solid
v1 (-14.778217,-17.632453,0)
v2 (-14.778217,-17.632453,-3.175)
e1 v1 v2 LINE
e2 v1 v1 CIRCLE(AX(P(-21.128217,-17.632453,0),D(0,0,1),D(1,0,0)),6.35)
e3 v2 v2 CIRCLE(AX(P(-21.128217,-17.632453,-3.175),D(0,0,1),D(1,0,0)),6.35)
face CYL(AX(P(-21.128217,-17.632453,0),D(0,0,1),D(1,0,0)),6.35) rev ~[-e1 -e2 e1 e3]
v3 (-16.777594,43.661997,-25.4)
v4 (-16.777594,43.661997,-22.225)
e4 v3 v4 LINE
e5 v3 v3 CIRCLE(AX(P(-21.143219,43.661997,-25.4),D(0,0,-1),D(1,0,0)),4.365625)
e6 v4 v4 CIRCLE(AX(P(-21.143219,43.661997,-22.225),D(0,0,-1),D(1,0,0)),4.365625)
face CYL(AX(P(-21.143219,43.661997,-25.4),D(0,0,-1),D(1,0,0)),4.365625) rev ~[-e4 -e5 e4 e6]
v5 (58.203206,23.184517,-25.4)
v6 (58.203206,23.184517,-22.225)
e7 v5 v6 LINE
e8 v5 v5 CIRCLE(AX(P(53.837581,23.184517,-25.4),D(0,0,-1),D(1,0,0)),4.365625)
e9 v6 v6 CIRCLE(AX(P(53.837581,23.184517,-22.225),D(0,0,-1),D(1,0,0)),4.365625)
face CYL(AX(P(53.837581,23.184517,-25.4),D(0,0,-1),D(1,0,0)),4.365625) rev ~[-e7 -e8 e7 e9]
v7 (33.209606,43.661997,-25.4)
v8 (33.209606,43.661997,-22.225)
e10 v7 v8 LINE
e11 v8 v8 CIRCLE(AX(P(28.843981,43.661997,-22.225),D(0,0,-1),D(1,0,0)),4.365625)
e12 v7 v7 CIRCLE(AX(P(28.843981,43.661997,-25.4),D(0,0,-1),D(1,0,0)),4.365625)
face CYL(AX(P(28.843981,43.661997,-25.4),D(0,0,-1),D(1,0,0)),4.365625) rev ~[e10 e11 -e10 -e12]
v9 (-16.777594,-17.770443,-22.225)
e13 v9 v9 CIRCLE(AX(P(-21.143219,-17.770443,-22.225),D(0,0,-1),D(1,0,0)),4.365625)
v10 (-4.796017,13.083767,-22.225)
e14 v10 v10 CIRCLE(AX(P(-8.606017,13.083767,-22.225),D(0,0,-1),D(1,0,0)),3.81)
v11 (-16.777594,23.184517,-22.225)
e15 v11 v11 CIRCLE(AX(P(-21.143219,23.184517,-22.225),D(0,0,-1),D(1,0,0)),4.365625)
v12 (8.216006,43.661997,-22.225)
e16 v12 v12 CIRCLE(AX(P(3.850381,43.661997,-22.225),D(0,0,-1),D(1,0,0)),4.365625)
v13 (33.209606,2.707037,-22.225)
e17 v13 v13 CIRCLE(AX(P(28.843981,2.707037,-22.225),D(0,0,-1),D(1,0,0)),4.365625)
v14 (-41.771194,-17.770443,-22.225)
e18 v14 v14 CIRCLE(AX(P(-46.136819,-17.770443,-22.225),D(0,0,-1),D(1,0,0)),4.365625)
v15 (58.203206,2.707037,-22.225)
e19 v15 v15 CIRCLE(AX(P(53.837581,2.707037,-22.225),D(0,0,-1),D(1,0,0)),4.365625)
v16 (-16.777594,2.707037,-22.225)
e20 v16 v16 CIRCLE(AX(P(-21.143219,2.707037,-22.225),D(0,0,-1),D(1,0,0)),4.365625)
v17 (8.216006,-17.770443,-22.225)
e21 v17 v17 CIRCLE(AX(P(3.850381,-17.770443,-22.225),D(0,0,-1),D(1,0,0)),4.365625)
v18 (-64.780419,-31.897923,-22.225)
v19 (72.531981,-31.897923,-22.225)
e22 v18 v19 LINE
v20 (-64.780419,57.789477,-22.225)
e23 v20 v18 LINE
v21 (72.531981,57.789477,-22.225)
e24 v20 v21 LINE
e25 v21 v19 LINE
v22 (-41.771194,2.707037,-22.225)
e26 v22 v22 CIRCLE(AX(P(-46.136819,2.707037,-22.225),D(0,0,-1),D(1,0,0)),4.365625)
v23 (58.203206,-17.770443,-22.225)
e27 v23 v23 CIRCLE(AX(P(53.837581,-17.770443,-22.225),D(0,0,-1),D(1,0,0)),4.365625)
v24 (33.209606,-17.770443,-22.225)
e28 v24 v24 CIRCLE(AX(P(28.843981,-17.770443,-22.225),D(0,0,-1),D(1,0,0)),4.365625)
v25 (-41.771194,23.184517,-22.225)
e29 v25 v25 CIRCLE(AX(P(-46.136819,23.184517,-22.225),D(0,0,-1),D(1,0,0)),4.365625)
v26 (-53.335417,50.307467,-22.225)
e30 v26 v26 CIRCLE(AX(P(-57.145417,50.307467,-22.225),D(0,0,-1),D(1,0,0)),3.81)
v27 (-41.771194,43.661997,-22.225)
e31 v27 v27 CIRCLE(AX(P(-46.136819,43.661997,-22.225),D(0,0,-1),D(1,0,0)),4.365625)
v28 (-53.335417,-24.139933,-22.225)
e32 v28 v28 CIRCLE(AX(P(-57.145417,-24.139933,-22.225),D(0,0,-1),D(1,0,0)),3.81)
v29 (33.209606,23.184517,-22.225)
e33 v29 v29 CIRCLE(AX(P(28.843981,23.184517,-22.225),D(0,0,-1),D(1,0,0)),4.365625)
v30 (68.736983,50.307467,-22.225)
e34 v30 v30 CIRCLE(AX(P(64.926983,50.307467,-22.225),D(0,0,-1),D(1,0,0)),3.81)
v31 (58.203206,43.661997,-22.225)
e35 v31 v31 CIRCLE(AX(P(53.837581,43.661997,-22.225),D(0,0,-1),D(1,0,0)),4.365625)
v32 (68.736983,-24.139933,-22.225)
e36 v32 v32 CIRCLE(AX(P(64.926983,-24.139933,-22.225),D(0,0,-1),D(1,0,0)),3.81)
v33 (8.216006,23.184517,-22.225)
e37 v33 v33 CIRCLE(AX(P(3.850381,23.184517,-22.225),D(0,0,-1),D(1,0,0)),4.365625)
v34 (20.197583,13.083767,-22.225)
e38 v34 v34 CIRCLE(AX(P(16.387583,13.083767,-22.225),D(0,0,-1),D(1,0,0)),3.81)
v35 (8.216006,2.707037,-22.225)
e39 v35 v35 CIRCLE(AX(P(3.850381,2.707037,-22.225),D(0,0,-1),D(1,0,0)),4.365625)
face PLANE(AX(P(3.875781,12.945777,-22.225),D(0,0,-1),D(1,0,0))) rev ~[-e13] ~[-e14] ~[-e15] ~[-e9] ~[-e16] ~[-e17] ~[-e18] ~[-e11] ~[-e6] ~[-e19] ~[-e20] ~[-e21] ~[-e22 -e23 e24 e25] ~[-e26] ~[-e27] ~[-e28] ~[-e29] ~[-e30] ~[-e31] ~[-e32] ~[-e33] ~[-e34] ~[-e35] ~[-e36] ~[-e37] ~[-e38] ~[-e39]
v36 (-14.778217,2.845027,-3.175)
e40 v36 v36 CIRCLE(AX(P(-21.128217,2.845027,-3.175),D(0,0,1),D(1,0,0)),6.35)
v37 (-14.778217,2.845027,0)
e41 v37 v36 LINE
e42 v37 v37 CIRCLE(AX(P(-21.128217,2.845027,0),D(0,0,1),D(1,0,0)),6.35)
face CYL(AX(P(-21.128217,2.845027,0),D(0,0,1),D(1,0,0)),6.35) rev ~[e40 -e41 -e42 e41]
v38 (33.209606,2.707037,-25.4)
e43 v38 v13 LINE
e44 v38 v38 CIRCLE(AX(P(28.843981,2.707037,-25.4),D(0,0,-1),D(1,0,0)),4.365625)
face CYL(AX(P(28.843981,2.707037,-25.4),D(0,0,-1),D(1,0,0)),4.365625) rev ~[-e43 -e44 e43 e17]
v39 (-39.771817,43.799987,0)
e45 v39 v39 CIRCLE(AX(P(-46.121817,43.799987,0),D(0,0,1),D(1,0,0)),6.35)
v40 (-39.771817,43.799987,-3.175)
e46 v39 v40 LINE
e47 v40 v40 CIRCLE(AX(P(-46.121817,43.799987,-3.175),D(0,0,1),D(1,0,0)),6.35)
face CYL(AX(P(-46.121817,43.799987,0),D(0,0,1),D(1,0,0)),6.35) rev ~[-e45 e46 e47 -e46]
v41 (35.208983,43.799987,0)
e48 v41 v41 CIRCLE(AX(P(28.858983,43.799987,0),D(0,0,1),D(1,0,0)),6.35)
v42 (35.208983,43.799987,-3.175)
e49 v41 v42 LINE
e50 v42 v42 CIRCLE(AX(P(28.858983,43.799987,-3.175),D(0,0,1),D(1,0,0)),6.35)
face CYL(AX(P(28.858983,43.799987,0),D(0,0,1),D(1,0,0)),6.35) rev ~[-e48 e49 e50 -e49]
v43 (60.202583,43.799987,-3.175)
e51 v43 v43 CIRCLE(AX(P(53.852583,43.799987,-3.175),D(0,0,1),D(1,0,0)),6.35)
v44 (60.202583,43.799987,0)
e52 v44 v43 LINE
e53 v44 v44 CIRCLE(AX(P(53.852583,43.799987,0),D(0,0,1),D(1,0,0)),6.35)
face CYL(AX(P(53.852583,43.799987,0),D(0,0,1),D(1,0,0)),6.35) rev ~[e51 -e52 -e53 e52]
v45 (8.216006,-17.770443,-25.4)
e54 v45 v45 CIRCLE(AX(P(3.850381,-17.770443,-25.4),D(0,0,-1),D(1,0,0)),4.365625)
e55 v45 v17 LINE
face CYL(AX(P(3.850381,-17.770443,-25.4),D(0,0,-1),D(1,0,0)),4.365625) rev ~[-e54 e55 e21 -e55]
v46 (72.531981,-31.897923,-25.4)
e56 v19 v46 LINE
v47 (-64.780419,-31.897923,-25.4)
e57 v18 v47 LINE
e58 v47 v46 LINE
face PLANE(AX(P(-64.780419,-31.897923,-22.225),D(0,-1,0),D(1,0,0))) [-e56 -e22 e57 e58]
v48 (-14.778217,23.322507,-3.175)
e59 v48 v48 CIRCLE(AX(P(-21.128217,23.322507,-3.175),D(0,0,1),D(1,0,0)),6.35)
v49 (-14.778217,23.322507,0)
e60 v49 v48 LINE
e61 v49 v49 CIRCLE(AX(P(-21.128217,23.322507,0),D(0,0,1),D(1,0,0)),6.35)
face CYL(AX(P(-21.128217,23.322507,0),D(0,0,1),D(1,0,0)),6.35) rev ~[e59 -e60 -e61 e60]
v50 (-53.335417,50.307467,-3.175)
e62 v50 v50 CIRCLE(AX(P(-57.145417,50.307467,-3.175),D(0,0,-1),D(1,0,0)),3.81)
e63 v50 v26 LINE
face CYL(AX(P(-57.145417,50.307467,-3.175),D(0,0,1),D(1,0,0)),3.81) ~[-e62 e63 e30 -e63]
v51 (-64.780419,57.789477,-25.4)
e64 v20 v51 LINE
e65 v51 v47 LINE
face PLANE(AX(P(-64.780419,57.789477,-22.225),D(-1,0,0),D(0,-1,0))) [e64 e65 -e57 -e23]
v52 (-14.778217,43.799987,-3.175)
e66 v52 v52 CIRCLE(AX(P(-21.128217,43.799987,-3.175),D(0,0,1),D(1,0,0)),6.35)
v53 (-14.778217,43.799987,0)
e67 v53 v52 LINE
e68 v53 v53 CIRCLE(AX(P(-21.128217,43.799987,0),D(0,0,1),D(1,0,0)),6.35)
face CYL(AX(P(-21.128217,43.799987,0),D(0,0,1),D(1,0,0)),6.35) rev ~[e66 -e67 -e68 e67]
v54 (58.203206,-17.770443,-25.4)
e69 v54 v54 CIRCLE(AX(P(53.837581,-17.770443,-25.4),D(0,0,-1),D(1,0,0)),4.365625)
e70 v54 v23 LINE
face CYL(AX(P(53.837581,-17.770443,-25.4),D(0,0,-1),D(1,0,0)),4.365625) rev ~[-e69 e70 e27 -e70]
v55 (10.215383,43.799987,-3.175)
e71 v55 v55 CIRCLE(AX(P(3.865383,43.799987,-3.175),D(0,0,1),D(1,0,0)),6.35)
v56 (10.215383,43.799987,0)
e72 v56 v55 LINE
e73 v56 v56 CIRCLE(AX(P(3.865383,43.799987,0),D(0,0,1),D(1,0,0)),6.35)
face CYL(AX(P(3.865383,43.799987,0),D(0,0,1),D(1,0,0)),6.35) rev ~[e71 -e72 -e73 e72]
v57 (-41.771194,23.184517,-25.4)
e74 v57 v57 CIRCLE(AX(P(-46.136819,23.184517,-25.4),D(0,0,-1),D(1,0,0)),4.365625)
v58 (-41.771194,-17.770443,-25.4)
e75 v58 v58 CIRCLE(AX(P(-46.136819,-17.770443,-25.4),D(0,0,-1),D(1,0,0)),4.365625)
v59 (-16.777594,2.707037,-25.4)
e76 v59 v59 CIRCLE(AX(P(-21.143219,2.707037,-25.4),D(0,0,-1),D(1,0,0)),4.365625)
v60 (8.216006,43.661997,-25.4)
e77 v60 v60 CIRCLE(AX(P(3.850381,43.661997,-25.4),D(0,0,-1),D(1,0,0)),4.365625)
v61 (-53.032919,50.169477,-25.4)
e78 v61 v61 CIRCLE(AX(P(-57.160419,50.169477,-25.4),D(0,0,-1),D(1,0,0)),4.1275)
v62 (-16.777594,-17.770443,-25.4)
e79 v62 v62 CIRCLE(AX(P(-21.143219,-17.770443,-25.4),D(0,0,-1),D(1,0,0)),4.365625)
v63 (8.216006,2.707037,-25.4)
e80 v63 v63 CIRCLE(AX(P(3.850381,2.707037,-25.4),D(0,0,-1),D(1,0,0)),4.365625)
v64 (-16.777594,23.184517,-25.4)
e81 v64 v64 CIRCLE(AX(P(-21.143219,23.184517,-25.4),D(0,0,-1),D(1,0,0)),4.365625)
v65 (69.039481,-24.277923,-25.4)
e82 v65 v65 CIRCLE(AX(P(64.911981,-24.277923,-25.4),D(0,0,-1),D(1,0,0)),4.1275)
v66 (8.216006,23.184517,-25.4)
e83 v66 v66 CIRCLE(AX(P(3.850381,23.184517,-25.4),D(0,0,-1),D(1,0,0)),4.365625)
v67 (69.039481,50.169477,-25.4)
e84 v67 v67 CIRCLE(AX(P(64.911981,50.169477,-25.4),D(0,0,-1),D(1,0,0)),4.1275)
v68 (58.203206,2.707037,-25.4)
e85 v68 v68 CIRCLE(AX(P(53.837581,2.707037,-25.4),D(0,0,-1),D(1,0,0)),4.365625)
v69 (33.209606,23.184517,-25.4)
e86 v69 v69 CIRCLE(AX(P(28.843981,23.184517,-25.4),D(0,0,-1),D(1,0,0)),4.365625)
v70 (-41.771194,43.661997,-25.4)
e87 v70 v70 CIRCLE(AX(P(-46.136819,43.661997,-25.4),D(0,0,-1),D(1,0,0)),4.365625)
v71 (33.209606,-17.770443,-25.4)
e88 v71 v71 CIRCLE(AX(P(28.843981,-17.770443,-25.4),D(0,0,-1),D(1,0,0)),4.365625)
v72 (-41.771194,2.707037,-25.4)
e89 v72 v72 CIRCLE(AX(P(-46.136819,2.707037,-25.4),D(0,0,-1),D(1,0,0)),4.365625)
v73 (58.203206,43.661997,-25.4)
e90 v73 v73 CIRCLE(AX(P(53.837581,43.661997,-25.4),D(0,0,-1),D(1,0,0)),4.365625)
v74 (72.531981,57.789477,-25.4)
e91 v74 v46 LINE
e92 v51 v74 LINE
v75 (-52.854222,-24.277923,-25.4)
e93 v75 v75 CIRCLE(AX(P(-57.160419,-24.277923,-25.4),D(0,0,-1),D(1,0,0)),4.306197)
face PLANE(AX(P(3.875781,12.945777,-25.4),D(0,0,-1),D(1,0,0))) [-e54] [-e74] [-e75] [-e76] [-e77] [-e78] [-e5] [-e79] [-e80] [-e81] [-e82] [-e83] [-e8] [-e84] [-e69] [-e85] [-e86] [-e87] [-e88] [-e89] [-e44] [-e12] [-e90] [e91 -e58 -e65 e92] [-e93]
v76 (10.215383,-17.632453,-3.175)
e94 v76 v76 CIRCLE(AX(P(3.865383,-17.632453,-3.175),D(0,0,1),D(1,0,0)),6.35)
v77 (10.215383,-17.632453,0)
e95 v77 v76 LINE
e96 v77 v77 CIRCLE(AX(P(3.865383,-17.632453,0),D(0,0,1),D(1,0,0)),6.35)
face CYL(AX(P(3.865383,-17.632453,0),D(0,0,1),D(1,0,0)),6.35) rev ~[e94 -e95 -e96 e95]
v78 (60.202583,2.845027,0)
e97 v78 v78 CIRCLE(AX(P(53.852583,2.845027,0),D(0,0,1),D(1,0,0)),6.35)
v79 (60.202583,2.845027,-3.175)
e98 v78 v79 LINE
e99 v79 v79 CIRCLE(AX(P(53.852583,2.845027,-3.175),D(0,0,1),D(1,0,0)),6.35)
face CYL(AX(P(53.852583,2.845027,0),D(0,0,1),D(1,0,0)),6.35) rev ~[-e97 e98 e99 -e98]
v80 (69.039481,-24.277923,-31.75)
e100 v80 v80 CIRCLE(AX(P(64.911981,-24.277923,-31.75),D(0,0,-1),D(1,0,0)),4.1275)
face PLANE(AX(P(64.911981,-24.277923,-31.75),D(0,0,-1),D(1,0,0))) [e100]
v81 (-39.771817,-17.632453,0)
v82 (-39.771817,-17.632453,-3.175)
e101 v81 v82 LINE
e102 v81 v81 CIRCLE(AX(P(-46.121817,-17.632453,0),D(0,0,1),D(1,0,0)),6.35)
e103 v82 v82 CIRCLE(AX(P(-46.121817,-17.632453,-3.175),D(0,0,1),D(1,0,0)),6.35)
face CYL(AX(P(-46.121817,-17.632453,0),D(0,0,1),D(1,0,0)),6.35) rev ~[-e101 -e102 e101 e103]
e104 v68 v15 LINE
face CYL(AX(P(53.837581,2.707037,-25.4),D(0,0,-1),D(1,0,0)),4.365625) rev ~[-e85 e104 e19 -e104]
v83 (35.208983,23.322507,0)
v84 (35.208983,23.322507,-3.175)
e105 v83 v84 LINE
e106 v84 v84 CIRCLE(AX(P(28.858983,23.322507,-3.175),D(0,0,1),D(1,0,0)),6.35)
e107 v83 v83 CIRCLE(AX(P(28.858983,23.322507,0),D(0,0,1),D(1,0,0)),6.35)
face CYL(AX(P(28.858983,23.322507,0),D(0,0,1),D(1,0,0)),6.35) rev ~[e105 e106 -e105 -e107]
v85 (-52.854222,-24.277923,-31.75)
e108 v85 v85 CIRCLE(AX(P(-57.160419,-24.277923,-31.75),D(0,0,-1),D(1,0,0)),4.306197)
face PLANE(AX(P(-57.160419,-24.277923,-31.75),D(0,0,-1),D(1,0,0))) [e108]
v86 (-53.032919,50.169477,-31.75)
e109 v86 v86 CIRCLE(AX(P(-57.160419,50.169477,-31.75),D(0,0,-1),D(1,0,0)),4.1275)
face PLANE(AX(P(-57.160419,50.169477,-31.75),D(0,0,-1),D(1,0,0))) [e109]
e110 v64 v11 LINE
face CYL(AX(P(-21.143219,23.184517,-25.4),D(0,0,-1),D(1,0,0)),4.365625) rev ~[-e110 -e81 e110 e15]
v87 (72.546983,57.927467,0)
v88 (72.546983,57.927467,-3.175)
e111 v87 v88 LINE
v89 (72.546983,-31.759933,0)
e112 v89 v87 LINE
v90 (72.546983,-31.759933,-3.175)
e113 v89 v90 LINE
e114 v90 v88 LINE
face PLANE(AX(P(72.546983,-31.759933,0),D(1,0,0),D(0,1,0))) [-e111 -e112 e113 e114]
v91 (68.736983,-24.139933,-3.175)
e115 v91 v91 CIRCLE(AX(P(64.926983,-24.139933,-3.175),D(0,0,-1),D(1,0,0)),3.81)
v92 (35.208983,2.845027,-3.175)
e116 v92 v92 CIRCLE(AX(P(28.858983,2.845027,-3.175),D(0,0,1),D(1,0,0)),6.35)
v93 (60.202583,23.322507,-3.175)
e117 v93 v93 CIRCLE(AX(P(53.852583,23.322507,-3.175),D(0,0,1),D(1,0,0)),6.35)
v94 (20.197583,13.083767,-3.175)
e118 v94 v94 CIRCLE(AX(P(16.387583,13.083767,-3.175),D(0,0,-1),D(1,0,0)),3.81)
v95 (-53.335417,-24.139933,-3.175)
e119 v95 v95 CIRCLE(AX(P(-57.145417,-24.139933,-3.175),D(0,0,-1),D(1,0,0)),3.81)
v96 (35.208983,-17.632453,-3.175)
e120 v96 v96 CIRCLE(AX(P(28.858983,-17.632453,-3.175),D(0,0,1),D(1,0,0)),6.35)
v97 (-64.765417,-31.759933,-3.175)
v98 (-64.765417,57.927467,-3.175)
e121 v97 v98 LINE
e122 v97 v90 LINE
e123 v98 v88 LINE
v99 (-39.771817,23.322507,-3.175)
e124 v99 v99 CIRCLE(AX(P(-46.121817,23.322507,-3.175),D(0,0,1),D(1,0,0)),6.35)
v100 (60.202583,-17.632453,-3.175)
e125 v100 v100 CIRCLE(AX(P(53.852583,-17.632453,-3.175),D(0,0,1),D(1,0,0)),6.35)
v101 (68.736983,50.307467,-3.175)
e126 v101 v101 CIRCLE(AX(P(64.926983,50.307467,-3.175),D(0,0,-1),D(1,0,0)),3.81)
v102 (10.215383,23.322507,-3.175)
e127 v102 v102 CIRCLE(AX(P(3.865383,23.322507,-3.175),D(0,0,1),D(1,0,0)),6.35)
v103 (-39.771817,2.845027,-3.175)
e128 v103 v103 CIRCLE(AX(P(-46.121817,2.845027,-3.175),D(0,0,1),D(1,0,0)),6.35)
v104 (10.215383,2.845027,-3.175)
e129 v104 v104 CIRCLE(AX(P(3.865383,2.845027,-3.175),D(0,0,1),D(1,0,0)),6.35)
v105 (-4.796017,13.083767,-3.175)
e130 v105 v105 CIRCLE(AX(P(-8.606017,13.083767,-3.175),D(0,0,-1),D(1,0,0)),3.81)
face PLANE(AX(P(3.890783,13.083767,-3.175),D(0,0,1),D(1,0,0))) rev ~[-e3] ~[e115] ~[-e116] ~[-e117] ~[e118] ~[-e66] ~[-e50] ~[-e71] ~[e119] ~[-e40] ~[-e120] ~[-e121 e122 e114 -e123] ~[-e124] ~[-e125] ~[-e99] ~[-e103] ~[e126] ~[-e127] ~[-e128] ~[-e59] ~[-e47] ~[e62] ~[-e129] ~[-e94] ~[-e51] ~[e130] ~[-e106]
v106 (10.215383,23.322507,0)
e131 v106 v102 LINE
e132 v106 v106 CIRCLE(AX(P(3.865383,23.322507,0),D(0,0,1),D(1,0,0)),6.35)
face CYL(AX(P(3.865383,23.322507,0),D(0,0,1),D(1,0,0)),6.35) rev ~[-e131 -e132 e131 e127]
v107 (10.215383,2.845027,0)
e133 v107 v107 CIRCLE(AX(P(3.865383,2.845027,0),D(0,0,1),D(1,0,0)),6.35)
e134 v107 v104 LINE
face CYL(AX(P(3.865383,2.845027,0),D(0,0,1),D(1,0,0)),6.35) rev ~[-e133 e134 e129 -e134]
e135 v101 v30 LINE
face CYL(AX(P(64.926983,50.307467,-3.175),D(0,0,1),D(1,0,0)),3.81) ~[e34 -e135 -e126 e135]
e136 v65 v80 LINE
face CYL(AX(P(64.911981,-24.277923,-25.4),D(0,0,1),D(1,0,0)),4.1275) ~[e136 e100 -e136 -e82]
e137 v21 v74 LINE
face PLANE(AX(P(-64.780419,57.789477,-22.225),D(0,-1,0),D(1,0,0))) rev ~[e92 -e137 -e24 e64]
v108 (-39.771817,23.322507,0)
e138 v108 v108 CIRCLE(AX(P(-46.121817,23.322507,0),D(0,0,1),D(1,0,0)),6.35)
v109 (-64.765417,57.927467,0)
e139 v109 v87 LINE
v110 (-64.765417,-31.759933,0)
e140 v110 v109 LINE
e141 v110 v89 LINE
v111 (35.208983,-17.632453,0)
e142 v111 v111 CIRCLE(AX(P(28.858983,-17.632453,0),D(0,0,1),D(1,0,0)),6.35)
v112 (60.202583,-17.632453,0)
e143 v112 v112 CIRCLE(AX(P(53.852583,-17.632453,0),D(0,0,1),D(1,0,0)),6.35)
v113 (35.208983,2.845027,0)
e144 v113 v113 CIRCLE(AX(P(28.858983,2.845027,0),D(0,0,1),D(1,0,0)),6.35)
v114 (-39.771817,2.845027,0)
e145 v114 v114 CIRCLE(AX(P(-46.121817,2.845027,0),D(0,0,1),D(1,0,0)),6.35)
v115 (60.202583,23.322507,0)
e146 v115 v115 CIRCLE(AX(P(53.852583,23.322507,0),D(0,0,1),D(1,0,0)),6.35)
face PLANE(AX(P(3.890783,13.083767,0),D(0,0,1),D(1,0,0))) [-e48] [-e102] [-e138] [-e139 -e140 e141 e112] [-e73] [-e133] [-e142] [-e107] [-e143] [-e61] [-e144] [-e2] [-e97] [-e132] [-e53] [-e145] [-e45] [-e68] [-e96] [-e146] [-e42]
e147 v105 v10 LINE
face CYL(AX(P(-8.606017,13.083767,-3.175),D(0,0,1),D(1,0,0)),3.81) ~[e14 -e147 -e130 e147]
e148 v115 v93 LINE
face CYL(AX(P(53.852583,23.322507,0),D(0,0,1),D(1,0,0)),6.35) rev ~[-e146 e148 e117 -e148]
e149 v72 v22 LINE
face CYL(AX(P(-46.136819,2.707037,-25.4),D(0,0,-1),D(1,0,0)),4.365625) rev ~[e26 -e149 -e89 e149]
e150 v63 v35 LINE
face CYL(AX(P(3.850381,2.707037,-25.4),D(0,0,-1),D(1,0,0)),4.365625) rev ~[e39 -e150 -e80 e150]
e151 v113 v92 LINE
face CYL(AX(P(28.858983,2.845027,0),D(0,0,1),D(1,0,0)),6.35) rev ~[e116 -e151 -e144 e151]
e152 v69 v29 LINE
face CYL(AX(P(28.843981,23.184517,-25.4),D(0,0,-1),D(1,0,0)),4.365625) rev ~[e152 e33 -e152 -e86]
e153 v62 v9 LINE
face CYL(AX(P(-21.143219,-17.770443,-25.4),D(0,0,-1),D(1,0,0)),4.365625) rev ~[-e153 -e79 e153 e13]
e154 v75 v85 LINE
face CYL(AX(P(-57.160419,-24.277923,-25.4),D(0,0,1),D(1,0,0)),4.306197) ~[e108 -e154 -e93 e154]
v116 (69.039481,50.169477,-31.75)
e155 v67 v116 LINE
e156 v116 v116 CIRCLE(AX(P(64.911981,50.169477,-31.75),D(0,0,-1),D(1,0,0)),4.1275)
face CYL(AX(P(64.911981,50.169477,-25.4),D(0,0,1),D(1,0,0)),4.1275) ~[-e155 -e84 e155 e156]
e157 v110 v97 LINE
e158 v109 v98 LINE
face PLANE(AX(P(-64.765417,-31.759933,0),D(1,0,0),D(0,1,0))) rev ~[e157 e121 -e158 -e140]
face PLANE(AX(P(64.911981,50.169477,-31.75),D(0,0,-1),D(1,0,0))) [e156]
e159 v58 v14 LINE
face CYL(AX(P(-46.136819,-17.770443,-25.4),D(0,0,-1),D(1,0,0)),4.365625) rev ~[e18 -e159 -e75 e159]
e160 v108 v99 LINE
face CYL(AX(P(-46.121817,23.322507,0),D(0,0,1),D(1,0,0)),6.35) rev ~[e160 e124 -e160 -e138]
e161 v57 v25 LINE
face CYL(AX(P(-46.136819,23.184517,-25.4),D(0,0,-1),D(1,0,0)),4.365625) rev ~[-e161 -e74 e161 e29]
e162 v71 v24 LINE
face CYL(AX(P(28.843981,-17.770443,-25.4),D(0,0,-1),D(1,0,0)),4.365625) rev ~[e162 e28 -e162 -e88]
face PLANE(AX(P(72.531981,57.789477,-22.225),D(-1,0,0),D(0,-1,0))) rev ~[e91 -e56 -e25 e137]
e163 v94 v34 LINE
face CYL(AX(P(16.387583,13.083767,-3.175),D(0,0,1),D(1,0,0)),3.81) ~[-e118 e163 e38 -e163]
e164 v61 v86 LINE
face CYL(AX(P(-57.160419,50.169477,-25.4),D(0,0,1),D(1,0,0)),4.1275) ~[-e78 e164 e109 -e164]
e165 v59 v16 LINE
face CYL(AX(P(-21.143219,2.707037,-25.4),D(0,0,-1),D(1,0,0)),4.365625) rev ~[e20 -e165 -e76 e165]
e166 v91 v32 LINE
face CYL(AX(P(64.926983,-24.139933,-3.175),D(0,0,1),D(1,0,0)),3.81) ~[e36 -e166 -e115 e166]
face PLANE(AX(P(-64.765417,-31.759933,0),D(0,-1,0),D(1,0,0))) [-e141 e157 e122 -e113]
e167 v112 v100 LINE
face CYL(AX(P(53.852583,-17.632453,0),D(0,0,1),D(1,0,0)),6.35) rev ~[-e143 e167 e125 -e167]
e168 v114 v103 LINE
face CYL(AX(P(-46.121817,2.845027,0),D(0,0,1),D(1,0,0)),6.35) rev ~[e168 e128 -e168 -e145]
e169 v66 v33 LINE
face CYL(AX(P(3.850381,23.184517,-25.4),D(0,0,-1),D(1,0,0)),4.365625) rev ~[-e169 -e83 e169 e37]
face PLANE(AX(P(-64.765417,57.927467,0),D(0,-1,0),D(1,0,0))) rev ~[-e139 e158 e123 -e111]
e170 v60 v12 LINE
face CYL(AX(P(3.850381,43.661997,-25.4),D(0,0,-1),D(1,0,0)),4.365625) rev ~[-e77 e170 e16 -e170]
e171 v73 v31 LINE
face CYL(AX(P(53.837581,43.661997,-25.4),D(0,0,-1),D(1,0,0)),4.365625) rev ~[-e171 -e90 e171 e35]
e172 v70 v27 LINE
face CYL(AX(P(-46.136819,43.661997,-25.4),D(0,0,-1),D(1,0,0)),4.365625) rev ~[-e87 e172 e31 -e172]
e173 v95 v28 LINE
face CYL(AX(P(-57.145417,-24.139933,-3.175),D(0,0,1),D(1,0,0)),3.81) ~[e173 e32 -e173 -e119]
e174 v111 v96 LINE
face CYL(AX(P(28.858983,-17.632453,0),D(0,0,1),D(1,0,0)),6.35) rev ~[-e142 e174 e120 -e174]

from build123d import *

# Parameters (mm, degrees)
F0_W      = 137.3124
F0_H      = 89.6874
F1_DEPTH  = 3.175
F3_R      = 3.81
F4_DEPTH  = 19.05
F5_W      = 137.3124
F5_H      = 89.6874
F6_DEPTH  = 3.175
F2_R      = 6.35
F8_DEPTH  = 6.35
F7_R      = 4.365625
F9_DEPTH  = 25.4
F10_R     = 4.306197
F10_R_2   = 4.1275
F11_DEPTH = 6.35


with BuildPart() as f1:
    # F0 (on Top) → F1 (new body)
    with BuildSketch(Plane.XY):
        with Locations((3.890783, 13.083767)):
            Rectangle(F0_W, F0_H)
    extrude(amount=-F1_DEPTH)

    # F3 (on face) → F4 (join)
    with BuildSketch(Plane(origin=(0, 0, -3.175), x_dir=(1, 0, 0), z_dir=(0, 0, -1))):
        with Locations((-57.145417, 24.139933)):
            Circle(F3_R)
        with Locations((64.926983, 24.139933)):
            Circle(F3_R)
        with Locations((-57.145417, -50.307467)):
            Circle(F3_R)
        with Locations((64.926983, -50.307467)):
            Circle(F3_R)
        with Locations((-8.606017, -13.083767)):
            Circle(F3_R)
        with Locations((16.387583, -13.083767)):
            Circle(F3_R)
    extrude(amount=F4_DEPTH)

    # F5 (on face) → F6 (join)
    with BuildSketch(Plane(origin=(0, 0, -22.225), x_dir=(1, 0, 0), z_dir=(0, 0, -1))):
        with Locations((3.875781, -12.945777)):
            Rectangle(F5_W, F5_H)
    extrude(amount=F6_DEPTH)

    # F2 (on face) → F8 (cut)
    with BuildSketch(Plane.XY):
        with Locations((-46.121817, 43.799987)):
            Circle(F2_R)
        with Locations((-21.128217, 43.799987)):
            Circle(F2_R)
        with Locations((3.865383, 43.799987)):
            Circle(F2_R)
        with Locations((28.858983, 43.799987)):
            Circle(F2_R)
        with Locations((53.852583, 43.799987)):
            Circle(F2_R)
        with Locations((-46.121817, -17.632453)):
            Circle(F2_R)
        with Locations((-21.128217, -17.632453)):
            Circle(F2_R)
        with Locations((3.865383, -17.632453)):
            Circle(F2_R)
        with Locations((28.858983, -17.632453)):
            Circle(F2_R)
        with Locations((53.852583, -17.632453)):
            Circle(F2_R)
        with Locations((-46.121817, 23.322507)):
            Circle(F2_R)
        with Locations((-21.128217, 23.322507)):
            Circle(F2_R)
        with Locations((3.865383, 23.322507)):
            Circle(F2_R)
        with Locations((28.858983, 23.322507)):
            Circle(F2_R)
        with Locations((53.852583, 23.322507)):
            Circle(F2_R)
        with Locations((-46.121817, 2.845027)):
            Circle(F2_R)
        with Locations((-21.128217, 2.845027)):
            Circle(F2_R)
        with Locations((3.865383, 2.845027)):
            Circle(F2_R)
        with Locations((28.858983, 2.845027)):
            Circle(F2_R)
        with Locations((53.852583, 2.845027)):
            Circle(F2_R)
    extrude(amount=-F8_DEPTH, mode=Mode.SUBTRACT)

    # F7 (on face) → F9 (cut)
    with BuildSketch(Plane(origin=(0, 0, -25.4), x_dir=(1, 0, 0), z_dir=(0, 0, -1))):
        with Locations((-46.136819, 17.770443)):
            Circle(F7_R)
        with Locations((-21.143219, 17.770443)):
            Circle(F7_R)
        with Locations((3.850381, 17.770443)):
            Circle(F7_R)
        with Locations((28.843981, 17.770443)):
            Circle(F7_R)
        with Locations((53.837581, 17.770443)):
            Circle(F7_R)
        with Locations((-46.136819, -2.707037)):
            Circle(F7_R)
        with Locations((-21.143219, -2.707037)):
            Circle(F7_R)
        with Locations((3.850381, -2.707037)):
            Circle(F7_R)
        with Locations((28.843981, -2.707037)):
            Circle(F7_R)
        with Locations((53.837581, -2.707037)):
            Circle(F7_R)
        with Locations((-46.136819, -23.184517)):
            Circle(F7_R)
        with Locations((-21.143219, -23.184517)):
            Circle(F7_R)
        with Locations((3.850381, -23.184517)):
            Circle(F7_R)
        with Locations((28.843981, -23.184517)):
            Circle(F7_R)
        with Locations((53.837581, -23.184517)):
            Circle(F7_R)
        with Locations((-46.136819, -43.661997)):
            Circle(F7_R)
        with Locations((-21.143219, -43.661997)):
            Circle(F7_R)
        with Locations((3.850381, -43.661997)):
            Circle(F7_R)
        with Locations((28.843981, -43.661997)):
            Circle(F7_R)
        with Locations((53.837581, -43.661997)):
            Circle(F7_R)
    extrude(amount=-F9_DEPTH, mode=Mode.SUBTRACT)

    # F10 (on face) → F11 (join)
    with BuildSketch(Plane(origin=(0, 0, -25.4), x_dir=(1, 0, 0), z_dir=(0, 0, -1))):
        with Locations((-57.160419, 24.277923)):
            Circle(F10_R)
        with Locations((64.911981, 24.277923)):
            Circle(F10_R_2)
        with Locations((64.911981, -50.169477)):
            Circle(F10_R_2)
        with Locations((-57.160419, -50.169477)):
            Circle(F10_R_2)
    extrude(amount=F11_DEPTH)


solid = f1.part
